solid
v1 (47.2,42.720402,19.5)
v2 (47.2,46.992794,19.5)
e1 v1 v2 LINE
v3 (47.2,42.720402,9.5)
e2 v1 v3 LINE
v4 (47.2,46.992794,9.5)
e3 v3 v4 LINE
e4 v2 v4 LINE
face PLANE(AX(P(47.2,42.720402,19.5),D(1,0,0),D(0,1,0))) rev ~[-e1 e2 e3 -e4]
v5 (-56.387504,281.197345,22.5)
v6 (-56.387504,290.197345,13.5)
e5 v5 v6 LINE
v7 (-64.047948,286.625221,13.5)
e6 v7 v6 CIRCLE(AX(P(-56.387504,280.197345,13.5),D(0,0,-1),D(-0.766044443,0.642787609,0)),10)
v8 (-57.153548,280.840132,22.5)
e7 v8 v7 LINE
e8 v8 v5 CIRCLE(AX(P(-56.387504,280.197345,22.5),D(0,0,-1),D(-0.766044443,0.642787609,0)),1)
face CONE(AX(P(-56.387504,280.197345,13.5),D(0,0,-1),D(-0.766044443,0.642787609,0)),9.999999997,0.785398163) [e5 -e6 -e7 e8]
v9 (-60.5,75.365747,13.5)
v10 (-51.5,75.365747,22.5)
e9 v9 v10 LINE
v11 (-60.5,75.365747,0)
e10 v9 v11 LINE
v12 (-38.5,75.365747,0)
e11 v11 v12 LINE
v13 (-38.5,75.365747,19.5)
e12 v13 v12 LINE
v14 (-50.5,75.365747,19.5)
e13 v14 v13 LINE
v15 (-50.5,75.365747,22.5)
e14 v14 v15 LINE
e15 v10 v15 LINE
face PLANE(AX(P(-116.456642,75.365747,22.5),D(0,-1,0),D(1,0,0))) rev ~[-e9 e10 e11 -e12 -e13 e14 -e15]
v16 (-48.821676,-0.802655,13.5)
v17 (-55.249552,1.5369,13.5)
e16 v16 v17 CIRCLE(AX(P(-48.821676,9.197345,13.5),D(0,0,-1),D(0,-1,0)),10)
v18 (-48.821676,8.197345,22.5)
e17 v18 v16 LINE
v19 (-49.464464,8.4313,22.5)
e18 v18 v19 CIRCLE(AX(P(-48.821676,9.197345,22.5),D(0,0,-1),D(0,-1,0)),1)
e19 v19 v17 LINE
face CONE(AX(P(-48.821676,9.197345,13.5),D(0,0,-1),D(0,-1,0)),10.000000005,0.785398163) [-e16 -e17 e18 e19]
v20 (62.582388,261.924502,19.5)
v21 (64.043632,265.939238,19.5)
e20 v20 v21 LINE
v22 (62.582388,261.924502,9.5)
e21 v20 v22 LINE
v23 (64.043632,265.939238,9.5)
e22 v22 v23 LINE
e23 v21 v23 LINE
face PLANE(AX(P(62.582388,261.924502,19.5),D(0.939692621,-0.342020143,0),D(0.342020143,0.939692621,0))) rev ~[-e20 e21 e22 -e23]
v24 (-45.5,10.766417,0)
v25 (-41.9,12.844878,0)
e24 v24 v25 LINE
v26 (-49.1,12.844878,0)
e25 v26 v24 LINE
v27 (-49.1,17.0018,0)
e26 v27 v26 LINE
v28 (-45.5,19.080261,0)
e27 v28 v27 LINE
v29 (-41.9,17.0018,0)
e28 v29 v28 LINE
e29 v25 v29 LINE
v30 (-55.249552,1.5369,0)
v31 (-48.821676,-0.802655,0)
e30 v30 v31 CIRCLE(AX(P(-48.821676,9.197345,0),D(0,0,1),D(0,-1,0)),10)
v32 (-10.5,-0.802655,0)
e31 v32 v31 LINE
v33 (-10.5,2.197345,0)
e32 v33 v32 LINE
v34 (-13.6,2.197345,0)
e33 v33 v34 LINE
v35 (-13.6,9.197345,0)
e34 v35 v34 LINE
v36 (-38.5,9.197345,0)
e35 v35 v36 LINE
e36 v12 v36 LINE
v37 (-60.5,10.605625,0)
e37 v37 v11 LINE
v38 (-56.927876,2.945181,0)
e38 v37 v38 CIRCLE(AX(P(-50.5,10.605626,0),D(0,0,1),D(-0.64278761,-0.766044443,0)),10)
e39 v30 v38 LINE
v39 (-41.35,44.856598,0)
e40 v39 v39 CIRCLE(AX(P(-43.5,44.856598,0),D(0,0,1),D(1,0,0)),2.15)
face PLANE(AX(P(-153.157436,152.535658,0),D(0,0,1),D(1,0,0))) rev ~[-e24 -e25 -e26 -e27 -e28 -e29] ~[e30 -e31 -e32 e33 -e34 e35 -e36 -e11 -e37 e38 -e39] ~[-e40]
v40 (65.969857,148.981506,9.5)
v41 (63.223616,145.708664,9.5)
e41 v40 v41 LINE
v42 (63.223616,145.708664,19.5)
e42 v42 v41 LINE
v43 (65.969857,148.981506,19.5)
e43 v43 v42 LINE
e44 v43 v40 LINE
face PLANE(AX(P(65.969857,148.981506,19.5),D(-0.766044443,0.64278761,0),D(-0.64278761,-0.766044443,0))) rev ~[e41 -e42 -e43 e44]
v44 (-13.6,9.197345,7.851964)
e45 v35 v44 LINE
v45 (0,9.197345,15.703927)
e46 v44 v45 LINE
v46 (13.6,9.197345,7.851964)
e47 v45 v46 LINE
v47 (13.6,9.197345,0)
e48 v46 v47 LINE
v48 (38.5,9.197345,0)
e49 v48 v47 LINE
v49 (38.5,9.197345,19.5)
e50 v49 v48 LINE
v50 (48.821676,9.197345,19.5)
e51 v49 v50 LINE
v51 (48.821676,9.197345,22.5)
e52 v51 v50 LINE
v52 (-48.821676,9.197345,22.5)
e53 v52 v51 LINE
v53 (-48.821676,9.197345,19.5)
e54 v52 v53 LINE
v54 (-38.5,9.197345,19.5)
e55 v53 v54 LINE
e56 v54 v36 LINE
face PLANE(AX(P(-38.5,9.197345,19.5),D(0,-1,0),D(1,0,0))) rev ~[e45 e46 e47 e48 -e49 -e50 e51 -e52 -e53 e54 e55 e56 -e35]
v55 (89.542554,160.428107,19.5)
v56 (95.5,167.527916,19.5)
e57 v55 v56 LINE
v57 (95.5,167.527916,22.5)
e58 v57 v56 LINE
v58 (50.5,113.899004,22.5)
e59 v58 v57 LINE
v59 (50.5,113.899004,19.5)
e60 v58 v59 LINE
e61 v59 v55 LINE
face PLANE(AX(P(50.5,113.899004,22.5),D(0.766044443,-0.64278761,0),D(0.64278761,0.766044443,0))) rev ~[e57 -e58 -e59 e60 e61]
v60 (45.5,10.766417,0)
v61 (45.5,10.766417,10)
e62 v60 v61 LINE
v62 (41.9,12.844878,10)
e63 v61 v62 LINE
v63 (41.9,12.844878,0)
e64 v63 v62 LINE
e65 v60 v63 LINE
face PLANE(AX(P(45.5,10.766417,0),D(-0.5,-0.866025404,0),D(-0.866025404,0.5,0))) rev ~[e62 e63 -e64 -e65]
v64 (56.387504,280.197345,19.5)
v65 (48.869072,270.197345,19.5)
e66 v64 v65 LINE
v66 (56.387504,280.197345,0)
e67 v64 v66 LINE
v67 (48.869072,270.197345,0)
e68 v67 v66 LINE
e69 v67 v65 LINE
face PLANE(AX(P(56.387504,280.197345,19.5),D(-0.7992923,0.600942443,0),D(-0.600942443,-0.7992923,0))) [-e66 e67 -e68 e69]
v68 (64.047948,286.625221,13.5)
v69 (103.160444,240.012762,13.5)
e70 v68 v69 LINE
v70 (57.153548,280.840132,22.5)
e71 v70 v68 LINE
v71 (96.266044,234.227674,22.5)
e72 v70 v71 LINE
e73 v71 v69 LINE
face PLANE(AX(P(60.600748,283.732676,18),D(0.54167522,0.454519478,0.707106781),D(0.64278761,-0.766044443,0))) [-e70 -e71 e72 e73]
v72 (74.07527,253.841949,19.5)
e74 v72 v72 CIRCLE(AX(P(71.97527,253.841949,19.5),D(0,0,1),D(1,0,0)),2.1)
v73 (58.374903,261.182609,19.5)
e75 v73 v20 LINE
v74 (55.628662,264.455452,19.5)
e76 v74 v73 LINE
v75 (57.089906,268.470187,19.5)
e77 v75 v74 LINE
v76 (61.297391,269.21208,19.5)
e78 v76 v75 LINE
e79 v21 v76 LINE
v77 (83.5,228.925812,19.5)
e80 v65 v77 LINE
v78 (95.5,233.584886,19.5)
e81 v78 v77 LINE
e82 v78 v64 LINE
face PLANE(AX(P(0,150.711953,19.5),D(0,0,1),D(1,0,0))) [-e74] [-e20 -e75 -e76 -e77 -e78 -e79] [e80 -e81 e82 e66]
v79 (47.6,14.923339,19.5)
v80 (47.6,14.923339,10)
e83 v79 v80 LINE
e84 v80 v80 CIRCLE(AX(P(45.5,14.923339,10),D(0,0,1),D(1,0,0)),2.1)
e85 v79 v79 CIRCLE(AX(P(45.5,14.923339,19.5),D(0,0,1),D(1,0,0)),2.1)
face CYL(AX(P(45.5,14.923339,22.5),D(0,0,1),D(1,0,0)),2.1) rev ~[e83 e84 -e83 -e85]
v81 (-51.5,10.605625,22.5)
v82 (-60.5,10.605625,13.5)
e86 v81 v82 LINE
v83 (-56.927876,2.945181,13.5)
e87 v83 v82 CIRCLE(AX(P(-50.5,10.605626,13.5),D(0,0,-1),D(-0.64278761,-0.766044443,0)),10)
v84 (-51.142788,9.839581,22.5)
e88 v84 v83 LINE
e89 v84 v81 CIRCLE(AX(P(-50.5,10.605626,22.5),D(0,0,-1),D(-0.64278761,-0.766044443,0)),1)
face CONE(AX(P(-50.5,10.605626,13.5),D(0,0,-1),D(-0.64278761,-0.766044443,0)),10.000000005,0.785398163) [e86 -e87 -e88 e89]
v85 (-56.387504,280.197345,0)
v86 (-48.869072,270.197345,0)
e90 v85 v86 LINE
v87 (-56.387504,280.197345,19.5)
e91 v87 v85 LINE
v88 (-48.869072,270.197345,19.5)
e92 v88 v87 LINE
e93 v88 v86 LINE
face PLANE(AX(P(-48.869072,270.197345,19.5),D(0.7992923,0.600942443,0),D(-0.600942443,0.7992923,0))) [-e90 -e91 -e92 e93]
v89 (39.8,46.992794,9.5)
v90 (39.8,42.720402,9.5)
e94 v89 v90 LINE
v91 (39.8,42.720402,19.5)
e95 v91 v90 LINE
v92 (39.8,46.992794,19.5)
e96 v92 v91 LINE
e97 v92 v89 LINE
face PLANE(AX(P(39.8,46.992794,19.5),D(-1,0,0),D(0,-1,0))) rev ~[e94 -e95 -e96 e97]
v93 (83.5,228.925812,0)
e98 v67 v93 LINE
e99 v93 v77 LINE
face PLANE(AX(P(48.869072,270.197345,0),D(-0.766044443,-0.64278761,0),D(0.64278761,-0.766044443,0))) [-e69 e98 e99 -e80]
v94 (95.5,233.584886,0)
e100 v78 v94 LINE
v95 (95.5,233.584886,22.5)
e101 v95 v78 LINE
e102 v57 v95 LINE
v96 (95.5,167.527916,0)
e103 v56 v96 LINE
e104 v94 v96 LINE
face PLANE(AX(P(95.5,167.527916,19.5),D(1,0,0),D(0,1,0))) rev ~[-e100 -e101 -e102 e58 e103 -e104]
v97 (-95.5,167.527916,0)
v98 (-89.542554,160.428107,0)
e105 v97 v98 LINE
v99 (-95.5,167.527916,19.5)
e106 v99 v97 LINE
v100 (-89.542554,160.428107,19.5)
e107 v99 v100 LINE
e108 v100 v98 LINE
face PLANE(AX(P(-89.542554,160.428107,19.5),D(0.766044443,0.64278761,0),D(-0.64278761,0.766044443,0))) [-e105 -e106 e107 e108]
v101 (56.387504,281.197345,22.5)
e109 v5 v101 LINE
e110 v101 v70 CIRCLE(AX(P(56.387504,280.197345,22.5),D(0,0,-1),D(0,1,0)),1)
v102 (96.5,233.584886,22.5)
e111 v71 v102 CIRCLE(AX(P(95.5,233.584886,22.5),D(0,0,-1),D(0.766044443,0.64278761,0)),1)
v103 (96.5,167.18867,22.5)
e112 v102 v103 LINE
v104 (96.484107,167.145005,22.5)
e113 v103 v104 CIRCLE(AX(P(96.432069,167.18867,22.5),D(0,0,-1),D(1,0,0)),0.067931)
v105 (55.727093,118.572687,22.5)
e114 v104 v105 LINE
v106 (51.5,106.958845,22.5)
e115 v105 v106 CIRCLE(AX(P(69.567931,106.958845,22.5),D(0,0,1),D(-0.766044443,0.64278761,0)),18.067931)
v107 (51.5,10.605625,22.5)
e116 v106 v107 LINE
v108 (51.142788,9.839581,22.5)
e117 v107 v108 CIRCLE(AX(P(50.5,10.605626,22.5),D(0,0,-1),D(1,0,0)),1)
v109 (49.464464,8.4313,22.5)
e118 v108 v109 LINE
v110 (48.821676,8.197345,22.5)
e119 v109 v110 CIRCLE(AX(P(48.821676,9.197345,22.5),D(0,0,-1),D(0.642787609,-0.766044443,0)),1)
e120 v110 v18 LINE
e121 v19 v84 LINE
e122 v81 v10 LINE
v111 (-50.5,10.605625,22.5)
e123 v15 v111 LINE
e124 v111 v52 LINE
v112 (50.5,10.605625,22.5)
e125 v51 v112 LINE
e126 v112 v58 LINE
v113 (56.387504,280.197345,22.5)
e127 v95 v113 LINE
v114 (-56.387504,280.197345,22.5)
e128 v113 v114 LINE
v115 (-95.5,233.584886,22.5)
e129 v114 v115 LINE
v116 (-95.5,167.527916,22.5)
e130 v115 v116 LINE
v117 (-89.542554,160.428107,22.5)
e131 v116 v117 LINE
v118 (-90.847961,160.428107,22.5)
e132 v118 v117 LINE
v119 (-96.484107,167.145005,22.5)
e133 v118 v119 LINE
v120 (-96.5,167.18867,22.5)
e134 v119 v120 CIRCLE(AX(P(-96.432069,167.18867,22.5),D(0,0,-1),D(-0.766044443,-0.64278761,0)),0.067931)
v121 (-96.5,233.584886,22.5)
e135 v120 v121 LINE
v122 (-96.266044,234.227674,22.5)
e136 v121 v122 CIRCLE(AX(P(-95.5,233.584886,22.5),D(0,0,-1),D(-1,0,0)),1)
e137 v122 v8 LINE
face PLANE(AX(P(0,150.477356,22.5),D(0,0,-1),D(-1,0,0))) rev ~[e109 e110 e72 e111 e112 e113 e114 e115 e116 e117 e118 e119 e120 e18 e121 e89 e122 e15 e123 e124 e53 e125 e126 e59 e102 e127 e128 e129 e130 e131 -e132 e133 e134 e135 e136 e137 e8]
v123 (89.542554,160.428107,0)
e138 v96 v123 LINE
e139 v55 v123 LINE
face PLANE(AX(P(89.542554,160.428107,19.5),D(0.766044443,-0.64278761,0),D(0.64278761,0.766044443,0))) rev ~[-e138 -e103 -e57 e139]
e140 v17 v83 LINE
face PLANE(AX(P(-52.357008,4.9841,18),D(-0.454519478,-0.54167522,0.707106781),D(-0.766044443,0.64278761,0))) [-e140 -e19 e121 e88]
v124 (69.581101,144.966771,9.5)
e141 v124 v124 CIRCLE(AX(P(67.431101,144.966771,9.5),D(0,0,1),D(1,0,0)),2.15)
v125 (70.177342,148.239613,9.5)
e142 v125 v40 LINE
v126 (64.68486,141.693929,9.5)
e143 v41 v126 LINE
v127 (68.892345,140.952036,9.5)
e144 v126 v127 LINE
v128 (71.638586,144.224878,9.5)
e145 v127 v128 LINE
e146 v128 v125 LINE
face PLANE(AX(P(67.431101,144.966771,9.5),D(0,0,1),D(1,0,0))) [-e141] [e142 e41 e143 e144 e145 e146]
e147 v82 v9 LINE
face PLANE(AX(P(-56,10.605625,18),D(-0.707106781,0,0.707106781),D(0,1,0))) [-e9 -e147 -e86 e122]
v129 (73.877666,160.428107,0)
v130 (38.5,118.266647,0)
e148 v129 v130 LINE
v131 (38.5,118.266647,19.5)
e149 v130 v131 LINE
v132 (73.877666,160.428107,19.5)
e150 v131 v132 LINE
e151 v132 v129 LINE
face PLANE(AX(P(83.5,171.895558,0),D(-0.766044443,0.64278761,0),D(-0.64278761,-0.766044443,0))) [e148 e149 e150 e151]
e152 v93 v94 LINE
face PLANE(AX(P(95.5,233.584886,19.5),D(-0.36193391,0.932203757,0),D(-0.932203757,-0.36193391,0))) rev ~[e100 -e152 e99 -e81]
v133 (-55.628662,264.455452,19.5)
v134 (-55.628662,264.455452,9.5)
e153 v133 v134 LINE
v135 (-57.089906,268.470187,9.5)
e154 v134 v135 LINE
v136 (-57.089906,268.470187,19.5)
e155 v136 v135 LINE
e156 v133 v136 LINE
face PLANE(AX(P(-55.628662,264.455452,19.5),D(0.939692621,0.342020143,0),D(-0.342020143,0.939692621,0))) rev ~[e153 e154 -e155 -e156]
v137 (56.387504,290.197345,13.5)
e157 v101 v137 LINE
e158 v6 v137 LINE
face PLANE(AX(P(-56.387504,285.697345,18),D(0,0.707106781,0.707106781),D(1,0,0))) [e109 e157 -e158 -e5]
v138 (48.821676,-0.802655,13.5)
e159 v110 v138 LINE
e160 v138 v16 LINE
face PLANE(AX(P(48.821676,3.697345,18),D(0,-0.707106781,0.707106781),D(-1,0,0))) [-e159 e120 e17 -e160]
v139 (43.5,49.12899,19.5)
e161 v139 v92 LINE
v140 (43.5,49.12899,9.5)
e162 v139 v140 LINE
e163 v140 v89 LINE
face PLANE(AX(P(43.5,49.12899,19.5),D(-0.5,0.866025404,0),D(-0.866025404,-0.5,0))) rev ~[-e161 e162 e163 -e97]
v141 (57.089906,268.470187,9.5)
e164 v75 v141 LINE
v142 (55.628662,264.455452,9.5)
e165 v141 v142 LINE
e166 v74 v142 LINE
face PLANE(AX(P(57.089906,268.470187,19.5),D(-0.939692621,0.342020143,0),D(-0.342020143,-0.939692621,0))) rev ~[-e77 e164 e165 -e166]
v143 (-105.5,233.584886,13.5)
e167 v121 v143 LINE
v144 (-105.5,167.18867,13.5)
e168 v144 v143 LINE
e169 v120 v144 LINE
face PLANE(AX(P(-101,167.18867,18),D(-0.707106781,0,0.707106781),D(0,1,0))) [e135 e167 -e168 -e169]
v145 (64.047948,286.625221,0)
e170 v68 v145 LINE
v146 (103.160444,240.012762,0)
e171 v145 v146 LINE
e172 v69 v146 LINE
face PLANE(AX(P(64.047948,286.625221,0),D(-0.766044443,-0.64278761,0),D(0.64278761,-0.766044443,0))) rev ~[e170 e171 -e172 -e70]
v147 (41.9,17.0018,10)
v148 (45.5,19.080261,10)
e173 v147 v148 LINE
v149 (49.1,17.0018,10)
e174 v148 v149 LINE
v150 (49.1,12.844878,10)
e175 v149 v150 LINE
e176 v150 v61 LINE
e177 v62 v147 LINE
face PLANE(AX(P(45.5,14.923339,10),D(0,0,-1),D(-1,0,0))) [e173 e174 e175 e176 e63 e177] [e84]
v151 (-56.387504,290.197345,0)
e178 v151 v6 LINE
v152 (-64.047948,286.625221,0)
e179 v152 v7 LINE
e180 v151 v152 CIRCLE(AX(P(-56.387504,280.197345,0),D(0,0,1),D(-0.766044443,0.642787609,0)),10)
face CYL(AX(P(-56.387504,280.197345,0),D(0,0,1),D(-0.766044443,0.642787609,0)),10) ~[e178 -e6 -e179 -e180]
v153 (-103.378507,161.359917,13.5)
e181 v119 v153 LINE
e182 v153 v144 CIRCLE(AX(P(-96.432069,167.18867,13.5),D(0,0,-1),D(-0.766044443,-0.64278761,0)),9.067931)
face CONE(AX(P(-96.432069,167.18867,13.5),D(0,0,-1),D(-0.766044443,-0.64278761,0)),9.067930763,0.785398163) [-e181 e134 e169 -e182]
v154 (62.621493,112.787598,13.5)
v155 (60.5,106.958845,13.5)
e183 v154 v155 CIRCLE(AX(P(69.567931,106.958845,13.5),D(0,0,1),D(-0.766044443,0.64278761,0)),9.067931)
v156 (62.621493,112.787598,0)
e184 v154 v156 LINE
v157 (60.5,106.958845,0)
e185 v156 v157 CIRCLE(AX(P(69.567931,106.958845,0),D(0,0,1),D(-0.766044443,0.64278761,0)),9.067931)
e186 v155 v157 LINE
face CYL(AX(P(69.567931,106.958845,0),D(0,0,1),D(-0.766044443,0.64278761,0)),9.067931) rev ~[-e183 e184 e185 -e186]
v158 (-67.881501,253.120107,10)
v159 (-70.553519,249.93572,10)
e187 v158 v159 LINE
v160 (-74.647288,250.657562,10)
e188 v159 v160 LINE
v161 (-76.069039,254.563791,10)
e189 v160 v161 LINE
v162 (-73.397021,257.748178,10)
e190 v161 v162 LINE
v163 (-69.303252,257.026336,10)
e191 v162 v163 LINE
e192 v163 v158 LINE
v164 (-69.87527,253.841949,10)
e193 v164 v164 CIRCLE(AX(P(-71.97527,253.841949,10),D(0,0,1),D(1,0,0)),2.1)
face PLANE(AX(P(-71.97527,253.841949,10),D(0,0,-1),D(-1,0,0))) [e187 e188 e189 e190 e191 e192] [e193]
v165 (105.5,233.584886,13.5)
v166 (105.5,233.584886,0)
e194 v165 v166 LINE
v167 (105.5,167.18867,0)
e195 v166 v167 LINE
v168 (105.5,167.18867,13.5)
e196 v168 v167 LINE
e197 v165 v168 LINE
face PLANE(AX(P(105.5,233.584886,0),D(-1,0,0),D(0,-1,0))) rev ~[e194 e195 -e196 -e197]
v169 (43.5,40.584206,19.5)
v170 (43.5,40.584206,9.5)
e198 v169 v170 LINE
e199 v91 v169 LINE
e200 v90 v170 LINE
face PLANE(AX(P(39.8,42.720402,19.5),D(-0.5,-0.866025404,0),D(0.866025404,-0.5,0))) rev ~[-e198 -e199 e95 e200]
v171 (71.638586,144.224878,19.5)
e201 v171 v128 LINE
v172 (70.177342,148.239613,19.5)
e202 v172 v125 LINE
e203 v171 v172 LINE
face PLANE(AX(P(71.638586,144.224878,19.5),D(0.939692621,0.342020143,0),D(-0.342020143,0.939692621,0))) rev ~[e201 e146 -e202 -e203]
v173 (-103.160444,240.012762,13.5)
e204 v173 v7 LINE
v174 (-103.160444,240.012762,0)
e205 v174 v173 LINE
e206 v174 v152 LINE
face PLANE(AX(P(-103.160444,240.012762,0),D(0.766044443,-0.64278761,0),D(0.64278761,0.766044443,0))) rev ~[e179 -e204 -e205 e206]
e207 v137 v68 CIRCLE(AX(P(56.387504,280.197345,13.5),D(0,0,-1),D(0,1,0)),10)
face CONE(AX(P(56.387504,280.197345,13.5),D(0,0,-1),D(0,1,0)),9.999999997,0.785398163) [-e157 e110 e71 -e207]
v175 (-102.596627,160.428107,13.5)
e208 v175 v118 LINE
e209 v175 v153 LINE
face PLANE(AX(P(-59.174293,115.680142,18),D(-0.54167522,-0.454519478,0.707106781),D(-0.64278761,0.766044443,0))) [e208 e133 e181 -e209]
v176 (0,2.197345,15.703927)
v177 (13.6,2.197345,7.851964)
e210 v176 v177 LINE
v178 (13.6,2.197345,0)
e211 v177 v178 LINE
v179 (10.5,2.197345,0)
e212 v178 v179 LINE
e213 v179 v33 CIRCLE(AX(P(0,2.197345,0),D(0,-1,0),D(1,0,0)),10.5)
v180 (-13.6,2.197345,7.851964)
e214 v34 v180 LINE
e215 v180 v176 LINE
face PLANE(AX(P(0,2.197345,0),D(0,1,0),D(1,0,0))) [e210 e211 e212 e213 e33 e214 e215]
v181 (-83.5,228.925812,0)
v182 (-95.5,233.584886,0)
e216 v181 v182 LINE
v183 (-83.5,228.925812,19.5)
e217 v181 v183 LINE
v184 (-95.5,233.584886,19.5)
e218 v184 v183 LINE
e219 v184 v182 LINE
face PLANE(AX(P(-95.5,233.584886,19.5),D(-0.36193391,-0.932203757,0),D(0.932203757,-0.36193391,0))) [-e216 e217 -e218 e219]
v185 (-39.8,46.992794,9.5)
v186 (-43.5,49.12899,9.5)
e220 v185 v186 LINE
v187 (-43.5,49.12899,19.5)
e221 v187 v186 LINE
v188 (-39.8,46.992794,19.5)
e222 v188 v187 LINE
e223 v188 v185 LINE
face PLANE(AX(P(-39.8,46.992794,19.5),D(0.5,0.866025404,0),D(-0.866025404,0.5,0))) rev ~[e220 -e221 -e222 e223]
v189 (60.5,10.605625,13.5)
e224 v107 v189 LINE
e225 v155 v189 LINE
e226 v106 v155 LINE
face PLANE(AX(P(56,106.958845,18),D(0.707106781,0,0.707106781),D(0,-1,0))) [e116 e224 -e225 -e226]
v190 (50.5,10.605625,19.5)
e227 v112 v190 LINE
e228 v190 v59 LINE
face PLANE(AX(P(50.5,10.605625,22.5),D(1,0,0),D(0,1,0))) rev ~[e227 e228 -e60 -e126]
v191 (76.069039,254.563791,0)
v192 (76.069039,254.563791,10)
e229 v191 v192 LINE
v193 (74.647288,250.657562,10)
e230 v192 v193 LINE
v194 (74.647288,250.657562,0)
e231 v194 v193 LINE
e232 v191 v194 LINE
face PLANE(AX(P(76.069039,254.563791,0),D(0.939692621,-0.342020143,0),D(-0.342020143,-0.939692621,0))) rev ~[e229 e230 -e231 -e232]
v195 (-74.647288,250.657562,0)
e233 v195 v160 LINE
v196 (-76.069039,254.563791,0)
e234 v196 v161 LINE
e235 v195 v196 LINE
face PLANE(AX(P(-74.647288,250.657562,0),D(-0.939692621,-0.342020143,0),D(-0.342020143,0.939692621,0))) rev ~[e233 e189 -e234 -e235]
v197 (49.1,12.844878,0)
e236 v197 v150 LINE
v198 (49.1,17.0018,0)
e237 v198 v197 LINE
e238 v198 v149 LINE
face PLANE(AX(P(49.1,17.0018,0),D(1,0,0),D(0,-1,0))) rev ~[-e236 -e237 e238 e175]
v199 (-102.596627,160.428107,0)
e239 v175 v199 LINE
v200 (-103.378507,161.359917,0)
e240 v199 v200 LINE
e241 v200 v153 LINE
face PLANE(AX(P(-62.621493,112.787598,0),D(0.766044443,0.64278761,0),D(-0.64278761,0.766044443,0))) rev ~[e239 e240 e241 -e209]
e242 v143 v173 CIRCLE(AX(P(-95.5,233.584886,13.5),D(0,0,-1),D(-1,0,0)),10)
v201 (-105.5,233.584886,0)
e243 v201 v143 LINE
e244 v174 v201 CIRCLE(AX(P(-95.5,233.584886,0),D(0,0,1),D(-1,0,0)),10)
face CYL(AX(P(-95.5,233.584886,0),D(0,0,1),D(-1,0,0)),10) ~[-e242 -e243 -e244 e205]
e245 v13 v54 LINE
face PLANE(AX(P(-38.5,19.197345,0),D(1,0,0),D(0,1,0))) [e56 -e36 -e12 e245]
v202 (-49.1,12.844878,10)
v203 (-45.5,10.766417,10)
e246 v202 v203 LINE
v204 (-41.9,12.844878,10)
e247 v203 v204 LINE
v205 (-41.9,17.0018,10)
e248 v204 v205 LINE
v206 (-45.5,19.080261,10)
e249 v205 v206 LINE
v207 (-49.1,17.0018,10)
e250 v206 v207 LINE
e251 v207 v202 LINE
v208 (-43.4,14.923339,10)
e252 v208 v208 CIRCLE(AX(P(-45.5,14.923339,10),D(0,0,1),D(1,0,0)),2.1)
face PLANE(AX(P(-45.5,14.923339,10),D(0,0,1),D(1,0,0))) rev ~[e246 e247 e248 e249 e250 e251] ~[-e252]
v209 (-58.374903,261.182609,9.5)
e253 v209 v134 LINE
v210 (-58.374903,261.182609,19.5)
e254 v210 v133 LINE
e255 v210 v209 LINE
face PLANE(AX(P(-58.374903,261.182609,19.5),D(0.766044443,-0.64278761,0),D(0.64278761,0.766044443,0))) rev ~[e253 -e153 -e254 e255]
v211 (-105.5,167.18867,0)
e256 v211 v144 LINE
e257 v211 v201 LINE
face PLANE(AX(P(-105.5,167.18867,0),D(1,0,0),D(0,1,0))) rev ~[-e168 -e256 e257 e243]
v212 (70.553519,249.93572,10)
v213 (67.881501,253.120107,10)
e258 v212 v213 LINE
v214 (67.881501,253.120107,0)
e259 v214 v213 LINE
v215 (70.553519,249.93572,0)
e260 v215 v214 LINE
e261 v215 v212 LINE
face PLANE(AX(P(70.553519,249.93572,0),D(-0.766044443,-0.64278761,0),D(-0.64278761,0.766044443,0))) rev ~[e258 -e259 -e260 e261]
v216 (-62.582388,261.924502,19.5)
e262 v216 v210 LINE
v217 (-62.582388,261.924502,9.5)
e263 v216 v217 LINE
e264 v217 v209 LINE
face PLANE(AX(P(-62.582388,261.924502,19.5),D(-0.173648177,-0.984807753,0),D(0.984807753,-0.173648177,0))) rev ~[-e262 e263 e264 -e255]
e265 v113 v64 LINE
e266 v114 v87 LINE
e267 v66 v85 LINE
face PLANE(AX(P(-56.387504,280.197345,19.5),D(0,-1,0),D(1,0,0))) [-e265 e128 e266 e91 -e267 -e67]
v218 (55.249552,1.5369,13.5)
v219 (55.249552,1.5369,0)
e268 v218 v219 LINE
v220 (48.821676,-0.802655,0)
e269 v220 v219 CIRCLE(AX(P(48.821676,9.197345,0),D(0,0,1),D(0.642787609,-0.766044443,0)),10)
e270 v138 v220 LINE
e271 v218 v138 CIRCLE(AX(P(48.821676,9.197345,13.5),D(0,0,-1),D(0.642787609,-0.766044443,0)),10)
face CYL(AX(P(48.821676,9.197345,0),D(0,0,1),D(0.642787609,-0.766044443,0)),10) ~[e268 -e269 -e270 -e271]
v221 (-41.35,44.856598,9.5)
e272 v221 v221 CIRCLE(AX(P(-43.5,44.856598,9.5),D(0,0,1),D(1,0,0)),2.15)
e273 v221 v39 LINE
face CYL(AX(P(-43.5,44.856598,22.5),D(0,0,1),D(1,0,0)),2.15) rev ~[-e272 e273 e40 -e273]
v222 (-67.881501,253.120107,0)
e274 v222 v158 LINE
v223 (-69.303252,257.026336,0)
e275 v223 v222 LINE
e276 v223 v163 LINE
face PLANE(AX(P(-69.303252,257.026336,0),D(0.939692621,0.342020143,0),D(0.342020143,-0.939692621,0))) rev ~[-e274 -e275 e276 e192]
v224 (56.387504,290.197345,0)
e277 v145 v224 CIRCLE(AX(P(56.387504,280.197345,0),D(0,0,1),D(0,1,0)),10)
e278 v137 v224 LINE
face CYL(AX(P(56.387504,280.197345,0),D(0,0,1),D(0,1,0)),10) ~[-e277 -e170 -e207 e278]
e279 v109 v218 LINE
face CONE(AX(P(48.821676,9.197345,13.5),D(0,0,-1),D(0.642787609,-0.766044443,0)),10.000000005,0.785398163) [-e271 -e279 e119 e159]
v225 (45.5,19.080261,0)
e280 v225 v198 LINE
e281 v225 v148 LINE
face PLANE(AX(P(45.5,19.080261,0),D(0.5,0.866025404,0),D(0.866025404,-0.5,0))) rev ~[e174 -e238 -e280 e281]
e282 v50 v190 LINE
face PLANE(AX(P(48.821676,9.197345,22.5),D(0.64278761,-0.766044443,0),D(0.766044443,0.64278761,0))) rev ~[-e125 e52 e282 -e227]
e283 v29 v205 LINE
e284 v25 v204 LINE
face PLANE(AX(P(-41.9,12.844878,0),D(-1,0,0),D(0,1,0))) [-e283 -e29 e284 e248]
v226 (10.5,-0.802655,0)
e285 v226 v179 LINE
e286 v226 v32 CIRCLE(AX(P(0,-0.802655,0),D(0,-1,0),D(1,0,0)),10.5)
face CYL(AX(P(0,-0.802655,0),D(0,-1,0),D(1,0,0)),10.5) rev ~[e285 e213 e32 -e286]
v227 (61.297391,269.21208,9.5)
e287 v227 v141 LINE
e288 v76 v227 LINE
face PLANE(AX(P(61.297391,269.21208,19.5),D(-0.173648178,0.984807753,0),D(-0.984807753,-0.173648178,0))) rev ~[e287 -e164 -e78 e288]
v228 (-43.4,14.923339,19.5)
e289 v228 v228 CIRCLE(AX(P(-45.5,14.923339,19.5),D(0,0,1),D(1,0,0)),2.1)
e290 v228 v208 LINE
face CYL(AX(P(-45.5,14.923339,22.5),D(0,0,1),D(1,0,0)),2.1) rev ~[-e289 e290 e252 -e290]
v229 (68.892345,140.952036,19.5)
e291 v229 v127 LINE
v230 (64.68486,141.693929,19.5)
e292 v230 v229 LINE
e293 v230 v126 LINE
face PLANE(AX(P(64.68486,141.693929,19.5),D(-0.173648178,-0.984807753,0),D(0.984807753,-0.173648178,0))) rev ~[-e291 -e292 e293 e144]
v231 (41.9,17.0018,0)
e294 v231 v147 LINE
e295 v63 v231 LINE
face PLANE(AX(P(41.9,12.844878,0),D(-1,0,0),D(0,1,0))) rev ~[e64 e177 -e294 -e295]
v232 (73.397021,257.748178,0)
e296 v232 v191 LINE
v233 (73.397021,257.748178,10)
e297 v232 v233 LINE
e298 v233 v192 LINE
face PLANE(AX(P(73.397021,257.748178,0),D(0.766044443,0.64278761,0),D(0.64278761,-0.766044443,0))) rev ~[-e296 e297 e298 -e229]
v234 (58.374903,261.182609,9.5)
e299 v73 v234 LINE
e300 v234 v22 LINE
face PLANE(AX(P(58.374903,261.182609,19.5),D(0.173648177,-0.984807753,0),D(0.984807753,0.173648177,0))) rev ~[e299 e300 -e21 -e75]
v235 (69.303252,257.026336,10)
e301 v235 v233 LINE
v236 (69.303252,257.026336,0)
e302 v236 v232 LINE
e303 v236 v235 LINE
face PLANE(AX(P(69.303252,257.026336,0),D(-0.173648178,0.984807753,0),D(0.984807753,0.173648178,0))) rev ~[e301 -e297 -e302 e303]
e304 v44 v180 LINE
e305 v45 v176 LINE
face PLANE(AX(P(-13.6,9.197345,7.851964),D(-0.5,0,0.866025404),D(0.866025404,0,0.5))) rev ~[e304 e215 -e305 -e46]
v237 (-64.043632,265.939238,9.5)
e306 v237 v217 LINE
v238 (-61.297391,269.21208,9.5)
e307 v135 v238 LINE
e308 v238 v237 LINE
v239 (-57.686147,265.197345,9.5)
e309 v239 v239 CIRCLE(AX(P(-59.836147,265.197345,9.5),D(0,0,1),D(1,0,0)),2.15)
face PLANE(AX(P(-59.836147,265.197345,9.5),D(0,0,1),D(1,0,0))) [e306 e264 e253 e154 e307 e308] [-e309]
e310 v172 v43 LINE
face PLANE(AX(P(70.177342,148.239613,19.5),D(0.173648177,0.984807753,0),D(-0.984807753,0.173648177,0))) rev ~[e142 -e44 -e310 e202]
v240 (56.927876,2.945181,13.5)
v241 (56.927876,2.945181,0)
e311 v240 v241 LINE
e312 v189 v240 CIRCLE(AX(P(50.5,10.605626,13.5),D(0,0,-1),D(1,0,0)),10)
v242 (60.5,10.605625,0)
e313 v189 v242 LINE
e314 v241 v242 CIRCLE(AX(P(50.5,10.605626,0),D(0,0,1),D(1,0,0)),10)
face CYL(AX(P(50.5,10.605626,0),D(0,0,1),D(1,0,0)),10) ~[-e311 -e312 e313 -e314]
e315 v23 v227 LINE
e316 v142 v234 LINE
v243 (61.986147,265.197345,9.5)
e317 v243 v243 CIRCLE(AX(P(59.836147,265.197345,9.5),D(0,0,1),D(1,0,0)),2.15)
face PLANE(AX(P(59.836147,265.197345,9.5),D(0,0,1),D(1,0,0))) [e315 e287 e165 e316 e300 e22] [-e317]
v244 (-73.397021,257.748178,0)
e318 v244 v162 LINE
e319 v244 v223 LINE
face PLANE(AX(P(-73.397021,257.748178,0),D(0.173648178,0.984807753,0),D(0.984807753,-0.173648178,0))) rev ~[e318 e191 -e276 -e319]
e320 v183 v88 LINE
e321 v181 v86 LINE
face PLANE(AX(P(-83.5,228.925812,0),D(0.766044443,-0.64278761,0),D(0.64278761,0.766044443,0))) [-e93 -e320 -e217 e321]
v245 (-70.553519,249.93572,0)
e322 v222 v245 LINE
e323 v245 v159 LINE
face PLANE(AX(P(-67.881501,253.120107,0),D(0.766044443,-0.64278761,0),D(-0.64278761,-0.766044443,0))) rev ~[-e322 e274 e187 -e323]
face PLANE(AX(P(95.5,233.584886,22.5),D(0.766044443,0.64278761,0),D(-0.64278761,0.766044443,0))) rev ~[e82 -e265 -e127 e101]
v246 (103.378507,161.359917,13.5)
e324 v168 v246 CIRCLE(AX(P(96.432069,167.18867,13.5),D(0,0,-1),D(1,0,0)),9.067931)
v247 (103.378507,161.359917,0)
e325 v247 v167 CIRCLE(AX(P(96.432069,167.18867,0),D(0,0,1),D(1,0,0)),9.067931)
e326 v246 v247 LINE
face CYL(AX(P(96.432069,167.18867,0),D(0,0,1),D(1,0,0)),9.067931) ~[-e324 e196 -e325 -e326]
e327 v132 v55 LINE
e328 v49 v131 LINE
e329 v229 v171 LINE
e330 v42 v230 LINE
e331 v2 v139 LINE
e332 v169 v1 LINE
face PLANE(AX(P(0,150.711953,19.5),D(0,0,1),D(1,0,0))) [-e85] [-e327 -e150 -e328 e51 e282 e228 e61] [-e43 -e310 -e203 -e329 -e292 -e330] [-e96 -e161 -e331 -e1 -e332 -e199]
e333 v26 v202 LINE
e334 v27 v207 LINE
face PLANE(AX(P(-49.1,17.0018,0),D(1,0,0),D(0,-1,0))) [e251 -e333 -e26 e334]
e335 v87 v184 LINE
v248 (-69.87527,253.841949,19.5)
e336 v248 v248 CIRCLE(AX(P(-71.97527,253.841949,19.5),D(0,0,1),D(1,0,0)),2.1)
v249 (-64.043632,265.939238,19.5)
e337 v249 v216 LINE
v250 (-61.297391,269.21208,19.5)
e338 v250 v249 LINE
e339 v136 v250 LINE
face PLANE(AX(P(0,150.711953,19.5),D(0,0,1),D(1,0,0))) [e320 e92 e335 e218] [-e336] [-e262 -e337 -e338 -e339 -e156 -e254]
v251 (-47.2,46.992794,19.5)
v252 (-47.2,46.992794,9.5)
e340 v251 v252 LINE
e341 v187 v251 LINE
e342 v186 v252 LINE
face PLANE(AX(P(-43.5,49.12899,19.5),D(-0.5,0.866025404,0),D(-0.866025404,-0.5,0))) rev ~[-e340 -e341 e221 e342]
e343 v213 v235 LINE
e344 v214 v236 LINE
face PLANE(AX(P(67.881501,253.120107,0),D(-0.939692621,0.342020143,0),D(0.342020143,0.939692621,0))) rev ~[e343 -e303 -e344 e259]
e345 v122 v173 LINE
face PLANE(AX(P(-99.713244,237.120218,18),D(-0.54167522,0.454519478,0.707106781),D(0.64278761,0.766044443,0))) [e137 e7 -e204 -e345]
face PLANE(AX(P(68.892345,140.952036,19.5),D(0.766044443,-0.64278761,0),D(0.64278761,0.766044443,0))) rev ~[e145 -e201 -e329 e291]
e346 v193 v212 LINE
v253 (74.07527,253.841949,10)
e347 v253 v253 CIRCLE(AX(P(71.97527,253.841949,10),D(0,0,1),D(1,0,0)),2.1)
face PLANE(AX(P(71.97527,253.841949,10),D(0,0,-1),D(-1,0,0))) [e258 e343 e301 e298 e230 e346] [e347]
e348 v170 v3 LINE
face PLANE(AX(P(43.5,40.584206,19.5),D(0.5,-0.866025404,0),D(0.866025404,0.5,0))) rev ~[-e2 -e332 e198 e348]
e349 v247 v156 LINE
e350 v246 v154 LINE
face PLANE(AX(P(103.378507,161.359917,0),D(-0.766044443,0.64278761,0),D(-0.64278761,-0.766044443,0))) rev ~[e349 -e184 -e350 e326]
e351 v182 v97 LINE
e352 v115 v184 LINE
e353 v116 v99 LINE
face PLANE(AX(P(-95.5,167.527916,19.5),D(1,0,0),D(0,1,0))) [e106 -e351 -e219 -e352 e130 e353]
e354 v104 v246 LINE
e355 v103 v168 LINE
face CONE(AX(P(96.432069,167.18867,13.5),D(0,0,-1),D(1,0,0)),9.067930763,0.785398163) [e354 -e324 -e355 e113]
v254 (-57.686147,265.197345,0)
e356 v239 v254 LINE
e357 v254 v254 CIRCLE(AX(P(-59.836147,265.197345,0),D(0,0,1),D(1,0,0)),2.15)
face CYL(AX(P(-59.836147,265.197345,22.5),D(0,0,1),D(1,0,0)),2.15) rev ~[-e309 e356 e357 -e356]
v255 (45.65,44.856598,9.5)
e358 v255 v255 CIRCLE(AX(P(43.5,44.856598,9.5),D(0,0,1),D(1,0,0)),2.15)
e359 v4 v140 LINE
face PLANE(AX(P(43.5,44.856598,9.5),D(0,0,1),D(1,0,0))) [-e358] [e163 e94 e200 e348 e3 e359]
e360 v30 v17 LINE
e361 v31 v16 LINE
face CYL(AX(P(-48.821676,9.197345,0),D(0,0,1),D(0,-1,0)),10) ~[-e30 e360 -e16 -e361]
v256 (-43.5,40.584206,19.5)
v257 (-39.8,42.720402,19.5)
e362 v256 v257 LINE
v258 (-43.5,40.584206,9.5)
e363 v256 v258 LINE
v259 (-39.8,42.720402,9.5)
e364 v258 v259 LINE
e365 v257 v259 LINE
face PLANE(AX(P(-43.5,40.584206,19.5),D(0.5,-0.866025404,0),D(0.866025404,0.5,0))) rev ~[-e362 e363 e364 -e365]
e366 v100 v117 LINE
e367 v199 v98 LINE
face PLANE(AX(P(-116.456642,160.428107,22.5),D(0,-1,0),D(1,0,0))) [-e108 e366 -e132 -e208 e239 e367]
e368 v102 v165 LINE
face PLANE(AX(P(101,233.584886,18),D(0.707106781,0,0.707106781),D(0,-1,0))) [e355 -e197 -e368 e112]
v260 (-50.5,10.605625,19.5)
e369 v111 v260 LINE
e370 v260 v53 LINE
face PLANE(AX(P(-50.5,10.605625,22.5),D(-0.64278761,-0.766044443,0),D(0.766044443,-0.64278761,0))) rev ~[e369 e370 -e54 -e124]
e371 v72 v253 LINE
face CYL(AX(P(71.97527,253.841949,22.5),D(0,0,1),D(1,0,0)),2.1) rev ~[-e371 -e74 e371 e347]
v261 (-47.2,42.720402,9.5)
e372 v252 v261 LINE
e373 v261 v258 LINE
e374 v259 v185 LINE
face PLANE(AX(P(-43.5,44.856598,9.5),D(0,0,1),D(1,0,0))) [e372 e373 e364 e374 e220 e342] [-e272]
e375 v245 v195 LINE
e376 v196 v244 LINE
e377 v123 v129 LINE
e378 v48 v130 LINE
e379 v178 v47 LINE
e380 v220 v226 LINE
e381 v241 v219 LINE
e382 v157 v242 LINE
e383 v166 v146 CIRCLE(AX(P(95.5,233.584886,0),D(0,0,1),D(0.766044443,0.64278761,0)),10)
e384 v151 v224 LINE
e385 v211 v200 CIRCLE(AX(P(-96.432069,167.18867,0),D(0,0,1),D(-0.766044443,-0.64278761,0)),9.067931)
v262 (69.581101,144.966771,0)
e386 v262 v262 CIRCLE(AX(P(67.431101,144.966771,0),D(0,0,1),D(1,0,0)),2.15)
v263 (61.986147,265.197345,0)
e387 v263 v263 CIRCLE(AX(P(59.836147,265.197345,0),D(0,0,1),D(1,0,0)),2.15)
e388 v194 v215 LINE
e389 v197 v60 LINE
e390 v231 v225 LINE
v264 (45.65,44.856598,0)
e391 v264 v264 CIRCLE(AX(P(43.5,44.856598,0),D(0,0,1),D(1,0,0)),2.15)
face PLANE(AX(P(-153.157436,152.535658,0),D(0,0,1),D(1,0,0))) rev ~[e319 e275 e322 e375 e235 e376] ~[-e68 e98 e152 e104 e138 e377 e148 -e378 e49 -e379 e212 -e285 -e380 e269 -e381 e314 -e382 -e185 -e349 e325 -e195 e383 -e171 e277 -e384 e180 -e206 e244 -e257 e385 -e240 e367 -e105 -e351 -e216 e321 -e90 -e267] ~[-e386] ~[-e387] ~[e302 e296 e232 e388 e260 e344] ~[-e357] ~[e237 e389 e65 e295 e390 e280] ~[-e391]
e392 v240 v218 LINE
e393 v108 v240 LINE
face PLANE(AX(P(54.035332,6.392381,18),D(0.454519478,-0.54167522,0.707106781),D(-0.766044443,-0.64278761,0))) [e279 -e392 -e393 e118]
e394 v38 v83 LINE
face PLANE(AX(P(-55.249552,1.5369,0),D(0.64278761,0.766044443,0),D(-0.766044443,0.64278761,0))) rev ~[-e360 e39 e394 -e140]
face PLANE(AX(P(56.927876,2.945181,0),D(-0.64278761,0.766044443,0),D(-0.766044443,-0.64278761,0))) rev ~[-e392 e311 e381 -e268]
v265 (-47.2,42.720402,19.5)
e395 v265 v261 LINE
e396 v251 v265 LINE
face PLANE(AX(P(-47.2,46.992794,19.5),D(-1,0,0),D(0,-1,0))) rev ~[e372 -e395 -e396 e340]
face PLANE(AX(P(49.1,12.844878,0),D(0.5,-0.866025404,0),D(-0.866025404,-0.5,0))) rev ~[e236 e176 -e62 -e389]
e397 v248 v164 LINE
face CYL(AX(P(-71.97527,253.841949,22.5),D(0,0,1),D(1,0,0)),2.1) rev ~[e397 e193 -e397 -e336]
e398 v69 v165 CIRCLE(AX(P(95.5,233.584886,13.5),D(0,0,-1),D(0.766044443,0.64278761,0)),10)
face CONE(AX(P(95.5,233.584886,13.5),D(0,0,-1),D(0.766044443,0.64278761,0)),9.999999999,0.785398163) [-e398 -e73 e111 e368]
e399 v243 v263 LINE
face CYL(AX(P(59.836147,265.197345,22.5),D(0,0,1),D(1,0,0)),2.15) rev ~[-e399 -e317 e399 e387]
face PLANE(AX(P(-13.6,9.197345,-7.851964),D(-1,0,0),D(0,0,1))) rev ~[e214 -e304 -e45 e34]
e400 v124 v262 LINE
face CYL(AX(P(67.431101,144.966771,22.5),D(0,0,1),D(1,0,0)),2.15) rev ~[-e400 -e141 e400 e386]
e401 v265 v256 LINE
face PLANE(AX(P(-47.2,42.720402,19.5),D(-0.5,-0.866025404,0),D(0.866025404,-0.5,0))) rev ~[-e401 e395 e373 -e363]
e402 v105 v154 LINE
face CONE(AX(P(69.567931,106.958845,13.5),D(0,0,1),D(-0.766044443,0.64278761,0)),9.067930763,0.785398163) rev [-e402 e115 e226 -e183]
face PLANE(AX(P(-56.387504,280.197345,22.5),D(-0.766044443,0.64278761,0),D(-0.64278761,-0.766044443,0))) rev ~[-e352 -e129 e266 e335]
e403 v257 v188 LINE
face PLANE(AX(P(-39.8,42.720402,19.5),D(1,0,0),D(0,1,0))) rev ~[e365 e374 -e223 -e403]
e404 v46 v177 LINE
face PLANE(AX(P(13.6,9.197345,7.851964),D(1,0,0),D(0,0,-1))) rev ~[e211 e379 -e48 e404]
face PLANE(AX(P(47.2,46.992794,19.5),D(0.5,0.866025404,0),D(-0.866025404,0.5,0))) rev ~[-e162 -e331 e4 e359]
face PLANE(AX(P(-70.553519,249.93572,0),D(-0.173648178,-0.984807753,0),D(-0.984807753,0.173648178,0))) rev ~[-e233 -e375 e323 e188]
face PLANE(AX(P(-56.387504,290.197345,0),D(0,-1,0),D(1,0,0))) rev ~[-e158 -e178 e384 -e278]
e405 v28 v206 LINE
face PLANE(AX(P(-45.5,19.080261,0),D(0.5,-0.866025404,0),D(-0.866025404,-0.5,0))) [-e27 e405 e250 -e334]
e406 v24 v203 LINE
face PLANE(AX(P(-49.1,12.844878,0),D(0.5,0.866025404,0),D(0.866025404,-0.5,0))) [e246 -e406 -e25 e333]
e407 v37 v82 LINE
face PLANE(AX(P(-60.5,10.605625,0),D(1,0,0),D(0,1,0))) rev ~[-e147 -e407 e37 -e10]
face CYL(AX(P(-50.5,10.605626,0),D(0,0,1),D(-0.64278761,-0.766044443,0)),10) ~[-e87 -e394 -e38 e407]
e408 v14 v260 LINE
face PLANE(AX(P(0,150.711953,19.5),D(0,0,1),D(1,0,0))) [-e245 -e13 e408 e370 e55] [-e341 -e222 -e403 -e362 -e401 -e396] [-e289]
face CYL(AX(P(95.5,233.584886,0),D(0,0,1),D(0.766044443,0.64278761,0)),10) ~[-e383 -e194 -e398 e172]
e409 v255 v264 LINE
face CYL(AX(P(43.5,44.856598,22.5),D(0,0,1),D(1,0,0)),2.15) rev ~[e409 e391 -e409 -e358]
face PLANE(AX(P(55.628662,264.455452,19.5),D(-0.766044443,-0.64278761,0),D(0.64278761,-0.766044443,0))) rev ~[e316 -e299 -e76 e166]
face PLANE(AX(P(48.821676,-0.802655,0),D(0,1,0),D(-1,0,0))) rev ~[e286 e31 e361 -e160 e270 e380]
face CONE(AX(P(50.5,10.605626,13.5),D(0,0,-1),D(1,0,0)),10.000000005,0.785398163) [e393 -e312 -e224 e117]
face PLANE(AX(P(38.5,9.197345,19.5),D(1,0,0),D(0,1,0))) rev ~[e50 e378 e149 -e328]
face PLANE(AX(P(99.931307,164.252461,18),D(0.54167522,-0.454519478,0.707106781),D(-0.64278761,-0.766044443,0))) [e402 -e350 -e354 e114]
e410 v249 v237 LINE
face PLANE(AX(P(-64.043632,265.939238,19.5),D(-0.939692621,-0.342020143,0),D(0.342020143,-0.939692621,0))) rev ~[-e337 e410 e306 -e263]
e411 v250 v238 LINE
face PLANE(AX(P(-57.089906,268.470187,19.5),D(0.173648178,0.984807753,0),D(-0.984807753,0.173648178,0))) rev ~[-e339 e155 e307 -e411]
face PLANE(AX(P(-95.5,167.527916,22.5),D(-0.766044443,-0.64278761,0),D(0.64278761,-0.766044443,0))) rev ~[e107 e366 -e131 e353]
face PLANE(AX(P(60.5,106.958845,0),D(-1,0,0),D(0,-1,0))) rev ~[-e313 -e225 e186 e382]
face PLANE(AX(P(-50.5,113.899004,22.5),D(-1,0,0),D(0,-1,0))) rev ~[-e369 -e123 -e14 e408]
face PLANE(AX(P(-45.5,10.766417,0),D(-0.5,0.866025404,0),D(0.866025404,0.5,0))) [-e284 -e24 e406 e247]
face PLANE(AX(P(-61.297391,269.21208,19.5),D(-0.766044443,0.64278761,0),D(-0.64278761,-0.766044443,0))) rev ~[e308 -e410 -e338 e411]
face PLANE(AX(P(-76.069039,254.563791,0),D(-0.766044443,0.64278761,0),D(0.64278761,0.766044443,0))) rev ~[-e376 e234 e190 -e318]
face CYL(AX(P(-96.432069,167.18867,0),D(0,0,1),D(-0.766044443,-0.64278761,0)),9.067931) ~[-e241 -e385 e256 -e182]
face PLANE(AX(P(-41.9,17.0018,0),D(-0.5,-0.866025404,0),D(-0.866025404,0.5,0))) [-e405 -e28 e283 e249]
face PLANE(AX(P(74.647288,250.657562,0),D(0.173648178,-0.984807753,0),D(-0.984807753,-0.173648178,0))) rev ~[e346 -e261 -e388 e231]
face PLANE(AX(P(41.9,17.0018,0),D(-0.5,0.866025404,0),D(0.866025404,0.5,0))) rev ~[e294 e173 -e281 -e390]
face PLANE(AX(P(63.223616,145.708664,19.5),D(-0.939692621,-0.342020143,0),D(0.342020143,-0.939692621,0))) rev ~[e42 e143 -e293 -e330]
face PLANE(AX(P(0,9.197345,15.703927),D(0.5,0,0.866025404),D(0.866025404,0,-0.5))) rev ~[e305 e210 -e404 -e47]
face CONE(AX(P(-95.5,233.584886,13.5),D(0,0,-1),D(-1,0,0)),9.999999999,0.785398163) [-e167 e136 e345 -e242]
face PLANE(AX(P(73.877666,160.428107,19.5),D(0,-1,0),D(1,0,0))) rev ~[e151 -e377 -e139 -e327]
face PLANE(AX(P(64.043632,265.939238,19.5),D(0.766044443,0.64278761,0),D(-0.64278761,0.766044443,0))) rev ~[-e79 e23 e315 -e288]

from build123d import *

# Parameters (mm, degrees)
RESSALTO_EXTRUS_O1_DEPTH = 22.5
CHANFRO1_SIZE            = 9
CORTE_EXTRUS_O1_REACH    = 24.5
ESBO_O3_W                = 1139.230904301
ESBO_O3_H                = 709.798033895
CORTE_EXTRUS_O5_DEPTH    = 3
CORTE_EXTRUS_O6_REACH    = 21.5
ESBO_O5_W                = 77
ESBO_O5_H                = 10
ESBO_O7_R                = 2.1
ESBO_O7_R_2              = 2.15
CORTE_EXTRUS_O7_DEPTH    = 23.5
CORTE_EXTRUS_O8_DEPTH    = 10
ESBO_O9_W                = 92.788829696
ESBO_O9_H                = 85.062360753
CORTE_EXTRUS_O9_DEPTH    = 23.5
CORTE_EXTRUS_O10_REACH   = 21.5
CORTE_EXTRUS_O11_DEPTH   = 7
ESBO_O12_R               = 10.5
CORTE_EXTRUS_O12_DEPTH   = 7
CORTE_EXTRUS_O13_DEPTH   = 10


with BuildPart() as part:
    # Esboço1 → Ressalto-extrusão1 (new body, symmetric)
    with BuildSketch(Plane.XY):
        with BuildLine():
            Line((-56.387503511, 290.197344596), (56.387503511, 290.197344596))
            ThreePointArc((56.387503511, 290.197344596), (60.613686129, 289.260422466), (64.047947942, 286.625220692))
            Line((64.047947942, 286.625220692), (103.160444431, 240.012762487))
            ThreePointArc((103.160444431, 240.012762487), (104.896926208, 237.005087823), (105.5, 233.58488639))
            Line((105.5, 233.58488639), (105.5, 167.188670131))
            ThreePointArc((105.5, 167.188670131), (104.953136861, 164.08725515), (103.378507208, 161.359916588))
            Line((103.378507208, 161.359916588), (62.621492792, 112.787598236))
            ThreePointArc((62.621492792, 112.787598236), (61.046863139, 110.060259674), (60.5, 106.958844693))
            Line((60.5, 106.958844693), (60.5, 10.605625498))
            ThreePointArc((60.5, 10.605625498), (59.56307787, 6.379442881), (56.927876097, 2.945181067))
            Line((56.927876097, 2.945181067), (55.249552272, 1.536900164))
            ThreePointArc((55.249552272, 1.536900164), (52.241877608, -0.199581612), (48.821676175, -0.802655404))
            Line((48.821676175, -0.802655404), (-48.821676175, -0.802655404))
            ThreePointArc((-48.821676175, -0.802655404), (-52.241877608, -0.199581612), (-55.249552272, 1.536900164))
            Line((-55.249552272, 1.536900164), (-56.927876097, 2.945181067))
            ThreePointArc((-56.927876097, 2.945181067), (-59.56307787, 6.379442881), (-60.5, 10.605625498))
            Line((-60.5, 10.605625498), (-60.5, 106.958844693))
            ThreePointArc((-60.5, 106.958844693), (-61.046863139, 110.060259674), (-62.621492792, 112.787598236))
            Line((-62.621492792, 112.787598236), (-103.378507208, 161.359916588))
            ThreePointArc((-103.378507208, 161.359916588), (-104.953136861, 164.08725515), (-105.5, 167.188670131))
            Line((-105.5, 167.188670131), (-105.5, 233.58488639))
            ThreePointArc((-105.5, 233.58488639), (-104.896926208, 237.005087823), (-103.160444431, 240.012762487))
            Line((-103.160444431, 240.012762487), (-64.047947942, 286.625220692))
            ThreePointArc((-64.047947942, 286.625220692), (-60.613686129, 289.260422466), (-56.387503511, 290.197344596))
        make_face()
        Polygon((-48.869071975, 270.197344596), (48.869071975, 270.197344596), (83.5, 228.925811707), (83.5, 171.895558399), (38.5, 118.266646732), (38.5, 19.197344596), (-38.5, 19.197344596), (-38.5, 118.266646732), (-83.5, 171.895558399), (-83.5, 228.925811707), align=None, mode=Mode.SUBTRACT)
    extrude(amount=RESSALTO_EXTRUS_O1_DEPTH, both=True)

    # Chanfro1
    chanfro1_edges = [part.edges().sort_by_distance(p)[0] for p in [
        (83.604196187, 263.318991589, 22.5),
        (60.613686129, 289.260422466, 22.5),
        (0, 290.197344596, 22.5),
        (-60.613686129, 289.260422466, 22.5),
        (-83.604196187, 263.318991589, 22.5),
        (-104.896926208, 237.005087823, 22.5),
        (-105.5, 200.38677826, 22.5),
        (-104.953136861, 164.08725515, 22.5),
        (-83, 137.073757412, 22.5),
        (-61.046863139, 110.060259674, 22.5),
        (-60.5, 58.782235095, 22.5),
        (-59.56307787, 6.379442881, 22.5),
        (-56.088714184, 2.241040616, 22.5),
        (-52.241877608, -0.199581612, 22.5),
        (0, -0.802655404, 22.5),
        (52.241877608, -0.199581612, 22.5),
        (56.088714184, 2.241040616, 22.5),
        (59.56307787, 6.379442881, 22.5),
        (60.5, 58.782235095, 22.5),
        (61.046863139, 110.060259674, 22.5),
        (83, 137.073757412, 22.5),
        (104.953136861, 164.08725515, 22.5),
        (105.5, 200.38677826, 22.5),
        (104.896926208, 237.005087823, 22.5),
    ]]
    chamfer(chanfro1_edges, length=CHANFRO1_SIZE)

    # Esboço3 → Corte-extrusão1 (cut, up to next)
    with BuildSketch(Plane.XY, mode=Mode.PRIVATE) as corte_extrus_o1_sk1:
        with Locations((-153.157436203, 152.53565808)):
            Rectangle(ESBO_O3_W, ESBO_O3_H)
    corte_extrus_o1_tool1 = extrude(corte_extrus_o1_sk1.sketch, amount=-CORTE_EXTRUS_O1_REACH, mode=Mode.PRIVATE) & part.part
    add(corte_extrus_o1_tool1.solids().sort_by_distance((-153.157436, 152.535658, 0))[0], mode=Mode.SUBTRACT)

    # Esboço4 → Corte-extrusão5 (cut)
    with BuildSketch(Plane.XY.offset(22.5)):
        Polygon((56.387503511, 280.197344596), (-56.387503511, 280.197344596), (-95.5, 233.58488639), (-95.5, 167.527915588), (-50.5, 113.899003921), (-50.5, 10.605625498), (-48.821676175, 9.197344596), (48.821676175, 9.197344596), (50.5, 10.605625498), (50.5, 113.899003921), (95.5, 167.527915588), (95.5, 233.58488639), align=None)
        Polygon((38.5, 19.197344596), (-38.5, 19.197344596), (-38.5, 121.489121124), (-83.5, 175.11803279), (-83.5, 228.925811707), (-48.869071975, 270.197344596), (48.869071975, 270.197344596), (83.5, 228.925811707), (83.5, 175.11803279), (38.5, 121.489121124), align=None, mode=Mode.SUBTRACT)
    extrude(amount=-CORTE_EXTRUS_O5_DEPTH, mode=Mode.SUBTRACT)

    # Esboço5 → Corte-extrusão6 (cut, up to next)
    with BuildSketch(Plane.XY.offset(19.5), mode=Mode.PRIVATE) as corte_extrus_o6_sk1:
        Polygon((-95.5, 233.58488639), (-83.5, 228.925811707), (-83.5, 171.895558399), (-95.5, 167.527915588), align=None)
    corte_extrus_o6_tool1 = extrude(corte_extrus_o6_sk1.sketch, amount=-CORTE_EXTRUS_O6_REACH, mode=Mode.PRIVATE) & part.part
    add(corte_extrus_o6_tool1.solids().sort_by_distance((-89.646672, 200.485324, 19.5))[0], mode=Mode.SUBTRACT)
    # Esboço5 → Corte-extrusão6 (cut, up to next)
    with BuildSketch(Plane.XY.offset(19.5), mode=Mode.PRIVATE) as corte_extrus_o6_sk2:
        Polygon((-48.869071975, 270.197344596), (-56.387503511, 280.197344596), (56.387503511, 280.197344596), (48.869071975, 270.197344596), align=None)
    corte_extrus_o6_tool2 = extrude(corte_extrus_o6_sk2.sketch, amount=-CORTE_EXTRUS_O6_REACH, mode=Mode.PRIVATE) & part.part
    add(corte_extrus_o6_tool2.solids().sort_by_distance((0, 275.316394, 19.5))[0], mode=Mode.SUBTRACT)
    # Esboço5 → Corte-extrusão6 (cut, up to next)
    with BuildSketch(Plane.XY.offset(19.5), mode=Mode.PRIVATE) as corte_extrus_o6_sk3:
        with Locations((0, 14.197344596)):
            Rectangle(ESBO_O5_W, ESBO_O5_H)
    corte_extrus_o6_tool3 = extrude(corte_extrus_o6_sk3.sketch, amount=-CORTE_EXTRUS_O6_REACH, mode=Mode.PRIVATE) & part.part
    add(corte_extrus_o6_tool3.solids().sort_by_distance((0, 14.197345, 19.5))[0], mode=Mode.SUBTRACT)
    # Esboço5 → Corte-extrusão6 (cut, up to next)
    with BuildSketch(Plane.XY.offset(19.5), mode=Mode.PRIVATE) as corte_extrus_o6_sk4:
        Polygon((83.5, 171.895558399), (95.5, 167.527915588), (95.5, 233.58488639), (83.5, 228.925811707), align=None)
    corte_extrus_o6_tool4 = extrude(corte_extrus_o6_sk4.sketch, amount=-CORTE_EXTRUS_O6_REACH, mode=Mode.PRIVATE) & part.part
    add(corte_extrus_o6_tool4.solids().sort_by_distance((89.646672, 200.485324, 19.5))[0], mode=Mode.SUBTRACT)

    # Esboço7 → Corte-extrusão7 (cut, through all)
    with BuildSketch(Plane.XY.offset(22.5)):
        with Locations((-45.5, 14.923339275)):
            Circle(ESBO_O7_R)
        with Locations((-43.5, 44.856598369)):
            Circle(ESBO_O7_R_2)
        with Locations((-71.975269931, 253.84194883)):
            Circle(ESBO_O7_R)
        with Locations((-59.836146954, 265.197344596)):
            Circle(ESBO_O7_R_2)
        with Locations((59.836146954, 265.197344596)):
            Circle(ESBO_O7_R_2)
        with Locations((71.975269931, 253.84194883)):
            Circle(ESBO_O7_R)
        with Locations((43.5, 44.856598369)):
            Circle(ESBO_O7_R_2)
        with Locations((45.5, 14.923339275)):
            Circle(ESBO_O7_R)
        with Locations((-67.431100943, 144.966771084)):
            Circle(ESBO_O7_R_2)
        with Locations((67.431100943, 144.966771084)):
            Circle(ESBO_O7_R_2)
    extrude(amount=-CORTE_EXTRUS_O7_DEPTH, mode=Mode.SUBTRACT)

    # Esboço8 → Corte-extrusão8 (cut)
    with BuildSketch(Plane(origin=(0, 0, 0), x_dir=(-1, 0, 0), z_dir=(0, 0, -1))):
        Polygon((-73.397020968, 257.748177701), (-76.069038884, 254.56379075), (-74.647287847, 250.657561879), (-70.553518893, 249.93571996), (-67.881500977, 253.120106911), (-69.303252014, 257.026335782), align=None)
        Polygon((-45.5, 19.080261213), (-49.1, 17.001800244), (-49.1, 12.844878306), (-45.5, 10.766417337), (-41.9, 12.844878306), (-41.9, 17.001800244), align=None)
        Polygon((41.9, 17.001800244), (45.5, 19.080261213), (49.1, 17.001800244), (49.1, 12.844878306), (45.5, 10.766417337), (41.9, 12.844878306), align=None)
        Polygon((76.069038884, 254.56379075), (73.397020968, 257.748177701), (69.303252014, 257.026335782), (67.881500977, 253.120106911), (70.553518893, 249.93571996), (74.647287847, 250.657561879), align=None)
        Polygon((67.580931876, 147.478918378), (71.560985025, 146.777127623), (72.943242978, 142.97940511), (70.345447782, 139.883473352), (66.365394632, 140.585264107), (64.98313668, 144.38298662), align=None)
    extrude(amount=-CORTE_EXTRUS_O8_DEPTH, mode=Mode.SUBTRACT)

    # Esboço9 → Corte-extrusão9 (cut, through all)
    with BuildSketch(Plane.XY.offset(22.5)):
        with Locations((-70.062226852, 117.896927121)):
            Rectangle(ESBO_O9_W, ESBO_O9_H)
    extrude(amount=-CORTE_EXTRUS_O9_DEPTH, mode=Mode.SUBTRACT)

    # Esboço10 → Corte-extrusão10 (cut, up to next)
    with BuildSketch(Plane.XY.offset(19.5), mode=Mode.PRIVATE) as corte_extrus_o10_sk1:
        Polygon((-95.5, 167.527915588), (-83.5, 171.895558399), (-73.877666178, 160.428107498), (-89.54255365, 160.428107498), align=None)
    corte_extrus_o10_tool1 = extrude(corte_extrus_o10_sk1.sketch, amount=-CORTE_EXTRUS_O10_REACH, mode=Mode.PRIVATE) & part.part
    add(corte_extrus_o10_tool1.solids().sort_by_distance((-85.062746, 165.15554, 19.5))[0], mode=Mode.SUBTRACT)
    # Esboço10 → Corte-extrusão10 (cut, up to next)
    with BuildSketch(Plane.XY.offset(19.5), mode=Mode.PRIVATE) as corte_extrus_o10_sk2:
        Polygon((89.54255365, 160.428107498), (95.5, 167.527915588), (83.5, 171.895558399), (73.877666178, 160.428107498), align=None)
    corte_extrus_o10_tool2 = extrude(corte_extrus_o10_sk2.sketch, amount=-CORTE_EXTRUS_O10_REACH, mode=Mode.PRIVATE) & part.part
    add(corte_extrus_o10_tool2.solids().sort_by_distance((85.062746, 165.15554, 19.5))[0], mode=Mode.SUBTRACT)

    # Esboço11 → Corte-extrusão11 (cut)
    with BuildSketch(Plane(origin=(0, 9.197344596, 0), x_dir=(1, 0, 0), z_dir=(0, 1, 0))):
        Polygon((0, -15.703927322), (13.6, -7.851963661), (13.6, 7.851963661), (0, 15.703927322), (-13.6, 7.851963661), (-13.6, -7.851963661), align=None)
    extrude(amount=-CORTE_EXTRUS_O11_DEPTH, mode=Mode.SUBTRACT)

    # Esboço12 → Corte-extrusão12 (cut)
    with BuildSketch(Plane.XZ.offset(0.802655404)):
        Circle(ESBO_O12_R)
    extrude(amount=-CORTE_EXTRUS_O12_DEPTH, mode=Mode.SUBTRACT)

    # Esboço13 → Corte-extrusão13 (cut)
    with BuildSketch(Plane.XY.offset(19.5)):
        Polygon((-57.089906317, 268.47018674), (-61.297391075, 269.212079824), (-64.043631711, 265.939237679), (-62.58238759, 261.924502451), (-58.374902832, 261.182609368), (-55.628662196, 264.455451512), align=None)
        Polygon((61.297391075, 269.212079824), (57.089906317, 268.47018674), (55.628662196, 264.455451512), (58.374902832, 261.182609368), (62.58238759, 261.924502451), (64.043631711, 265.939237679), align=None)
        Polygon((-47.2, 46.992794365), (-47.2, 42.720402373), (-43.5, 40.584206377), (-39.8, 42.720402373), (-39.8, 46.992794365), (-43.5, 49.128990361), align=None)
        Polygon((47.2, 46.992794365), (43.5, 49.128990361), (39.8, 46.992794365), (39.8, 42.720402373), (43.5, 40.584206377), (47.2, 42.720402373), align=None)
        Polygon((70.177341579, 148.239613229), (65.969856821, 148.981506312), (63.223616185, 145.708664168), (64.684860306, 141.69392894), (68.892345064, 140.952035856), (71.6385857, 144.224878001), align=None)
    extrude(amount=-CORTE_EXTRUS_O13_DEPTH, mode=Mode.SUBTRACT)


solid = part.part
